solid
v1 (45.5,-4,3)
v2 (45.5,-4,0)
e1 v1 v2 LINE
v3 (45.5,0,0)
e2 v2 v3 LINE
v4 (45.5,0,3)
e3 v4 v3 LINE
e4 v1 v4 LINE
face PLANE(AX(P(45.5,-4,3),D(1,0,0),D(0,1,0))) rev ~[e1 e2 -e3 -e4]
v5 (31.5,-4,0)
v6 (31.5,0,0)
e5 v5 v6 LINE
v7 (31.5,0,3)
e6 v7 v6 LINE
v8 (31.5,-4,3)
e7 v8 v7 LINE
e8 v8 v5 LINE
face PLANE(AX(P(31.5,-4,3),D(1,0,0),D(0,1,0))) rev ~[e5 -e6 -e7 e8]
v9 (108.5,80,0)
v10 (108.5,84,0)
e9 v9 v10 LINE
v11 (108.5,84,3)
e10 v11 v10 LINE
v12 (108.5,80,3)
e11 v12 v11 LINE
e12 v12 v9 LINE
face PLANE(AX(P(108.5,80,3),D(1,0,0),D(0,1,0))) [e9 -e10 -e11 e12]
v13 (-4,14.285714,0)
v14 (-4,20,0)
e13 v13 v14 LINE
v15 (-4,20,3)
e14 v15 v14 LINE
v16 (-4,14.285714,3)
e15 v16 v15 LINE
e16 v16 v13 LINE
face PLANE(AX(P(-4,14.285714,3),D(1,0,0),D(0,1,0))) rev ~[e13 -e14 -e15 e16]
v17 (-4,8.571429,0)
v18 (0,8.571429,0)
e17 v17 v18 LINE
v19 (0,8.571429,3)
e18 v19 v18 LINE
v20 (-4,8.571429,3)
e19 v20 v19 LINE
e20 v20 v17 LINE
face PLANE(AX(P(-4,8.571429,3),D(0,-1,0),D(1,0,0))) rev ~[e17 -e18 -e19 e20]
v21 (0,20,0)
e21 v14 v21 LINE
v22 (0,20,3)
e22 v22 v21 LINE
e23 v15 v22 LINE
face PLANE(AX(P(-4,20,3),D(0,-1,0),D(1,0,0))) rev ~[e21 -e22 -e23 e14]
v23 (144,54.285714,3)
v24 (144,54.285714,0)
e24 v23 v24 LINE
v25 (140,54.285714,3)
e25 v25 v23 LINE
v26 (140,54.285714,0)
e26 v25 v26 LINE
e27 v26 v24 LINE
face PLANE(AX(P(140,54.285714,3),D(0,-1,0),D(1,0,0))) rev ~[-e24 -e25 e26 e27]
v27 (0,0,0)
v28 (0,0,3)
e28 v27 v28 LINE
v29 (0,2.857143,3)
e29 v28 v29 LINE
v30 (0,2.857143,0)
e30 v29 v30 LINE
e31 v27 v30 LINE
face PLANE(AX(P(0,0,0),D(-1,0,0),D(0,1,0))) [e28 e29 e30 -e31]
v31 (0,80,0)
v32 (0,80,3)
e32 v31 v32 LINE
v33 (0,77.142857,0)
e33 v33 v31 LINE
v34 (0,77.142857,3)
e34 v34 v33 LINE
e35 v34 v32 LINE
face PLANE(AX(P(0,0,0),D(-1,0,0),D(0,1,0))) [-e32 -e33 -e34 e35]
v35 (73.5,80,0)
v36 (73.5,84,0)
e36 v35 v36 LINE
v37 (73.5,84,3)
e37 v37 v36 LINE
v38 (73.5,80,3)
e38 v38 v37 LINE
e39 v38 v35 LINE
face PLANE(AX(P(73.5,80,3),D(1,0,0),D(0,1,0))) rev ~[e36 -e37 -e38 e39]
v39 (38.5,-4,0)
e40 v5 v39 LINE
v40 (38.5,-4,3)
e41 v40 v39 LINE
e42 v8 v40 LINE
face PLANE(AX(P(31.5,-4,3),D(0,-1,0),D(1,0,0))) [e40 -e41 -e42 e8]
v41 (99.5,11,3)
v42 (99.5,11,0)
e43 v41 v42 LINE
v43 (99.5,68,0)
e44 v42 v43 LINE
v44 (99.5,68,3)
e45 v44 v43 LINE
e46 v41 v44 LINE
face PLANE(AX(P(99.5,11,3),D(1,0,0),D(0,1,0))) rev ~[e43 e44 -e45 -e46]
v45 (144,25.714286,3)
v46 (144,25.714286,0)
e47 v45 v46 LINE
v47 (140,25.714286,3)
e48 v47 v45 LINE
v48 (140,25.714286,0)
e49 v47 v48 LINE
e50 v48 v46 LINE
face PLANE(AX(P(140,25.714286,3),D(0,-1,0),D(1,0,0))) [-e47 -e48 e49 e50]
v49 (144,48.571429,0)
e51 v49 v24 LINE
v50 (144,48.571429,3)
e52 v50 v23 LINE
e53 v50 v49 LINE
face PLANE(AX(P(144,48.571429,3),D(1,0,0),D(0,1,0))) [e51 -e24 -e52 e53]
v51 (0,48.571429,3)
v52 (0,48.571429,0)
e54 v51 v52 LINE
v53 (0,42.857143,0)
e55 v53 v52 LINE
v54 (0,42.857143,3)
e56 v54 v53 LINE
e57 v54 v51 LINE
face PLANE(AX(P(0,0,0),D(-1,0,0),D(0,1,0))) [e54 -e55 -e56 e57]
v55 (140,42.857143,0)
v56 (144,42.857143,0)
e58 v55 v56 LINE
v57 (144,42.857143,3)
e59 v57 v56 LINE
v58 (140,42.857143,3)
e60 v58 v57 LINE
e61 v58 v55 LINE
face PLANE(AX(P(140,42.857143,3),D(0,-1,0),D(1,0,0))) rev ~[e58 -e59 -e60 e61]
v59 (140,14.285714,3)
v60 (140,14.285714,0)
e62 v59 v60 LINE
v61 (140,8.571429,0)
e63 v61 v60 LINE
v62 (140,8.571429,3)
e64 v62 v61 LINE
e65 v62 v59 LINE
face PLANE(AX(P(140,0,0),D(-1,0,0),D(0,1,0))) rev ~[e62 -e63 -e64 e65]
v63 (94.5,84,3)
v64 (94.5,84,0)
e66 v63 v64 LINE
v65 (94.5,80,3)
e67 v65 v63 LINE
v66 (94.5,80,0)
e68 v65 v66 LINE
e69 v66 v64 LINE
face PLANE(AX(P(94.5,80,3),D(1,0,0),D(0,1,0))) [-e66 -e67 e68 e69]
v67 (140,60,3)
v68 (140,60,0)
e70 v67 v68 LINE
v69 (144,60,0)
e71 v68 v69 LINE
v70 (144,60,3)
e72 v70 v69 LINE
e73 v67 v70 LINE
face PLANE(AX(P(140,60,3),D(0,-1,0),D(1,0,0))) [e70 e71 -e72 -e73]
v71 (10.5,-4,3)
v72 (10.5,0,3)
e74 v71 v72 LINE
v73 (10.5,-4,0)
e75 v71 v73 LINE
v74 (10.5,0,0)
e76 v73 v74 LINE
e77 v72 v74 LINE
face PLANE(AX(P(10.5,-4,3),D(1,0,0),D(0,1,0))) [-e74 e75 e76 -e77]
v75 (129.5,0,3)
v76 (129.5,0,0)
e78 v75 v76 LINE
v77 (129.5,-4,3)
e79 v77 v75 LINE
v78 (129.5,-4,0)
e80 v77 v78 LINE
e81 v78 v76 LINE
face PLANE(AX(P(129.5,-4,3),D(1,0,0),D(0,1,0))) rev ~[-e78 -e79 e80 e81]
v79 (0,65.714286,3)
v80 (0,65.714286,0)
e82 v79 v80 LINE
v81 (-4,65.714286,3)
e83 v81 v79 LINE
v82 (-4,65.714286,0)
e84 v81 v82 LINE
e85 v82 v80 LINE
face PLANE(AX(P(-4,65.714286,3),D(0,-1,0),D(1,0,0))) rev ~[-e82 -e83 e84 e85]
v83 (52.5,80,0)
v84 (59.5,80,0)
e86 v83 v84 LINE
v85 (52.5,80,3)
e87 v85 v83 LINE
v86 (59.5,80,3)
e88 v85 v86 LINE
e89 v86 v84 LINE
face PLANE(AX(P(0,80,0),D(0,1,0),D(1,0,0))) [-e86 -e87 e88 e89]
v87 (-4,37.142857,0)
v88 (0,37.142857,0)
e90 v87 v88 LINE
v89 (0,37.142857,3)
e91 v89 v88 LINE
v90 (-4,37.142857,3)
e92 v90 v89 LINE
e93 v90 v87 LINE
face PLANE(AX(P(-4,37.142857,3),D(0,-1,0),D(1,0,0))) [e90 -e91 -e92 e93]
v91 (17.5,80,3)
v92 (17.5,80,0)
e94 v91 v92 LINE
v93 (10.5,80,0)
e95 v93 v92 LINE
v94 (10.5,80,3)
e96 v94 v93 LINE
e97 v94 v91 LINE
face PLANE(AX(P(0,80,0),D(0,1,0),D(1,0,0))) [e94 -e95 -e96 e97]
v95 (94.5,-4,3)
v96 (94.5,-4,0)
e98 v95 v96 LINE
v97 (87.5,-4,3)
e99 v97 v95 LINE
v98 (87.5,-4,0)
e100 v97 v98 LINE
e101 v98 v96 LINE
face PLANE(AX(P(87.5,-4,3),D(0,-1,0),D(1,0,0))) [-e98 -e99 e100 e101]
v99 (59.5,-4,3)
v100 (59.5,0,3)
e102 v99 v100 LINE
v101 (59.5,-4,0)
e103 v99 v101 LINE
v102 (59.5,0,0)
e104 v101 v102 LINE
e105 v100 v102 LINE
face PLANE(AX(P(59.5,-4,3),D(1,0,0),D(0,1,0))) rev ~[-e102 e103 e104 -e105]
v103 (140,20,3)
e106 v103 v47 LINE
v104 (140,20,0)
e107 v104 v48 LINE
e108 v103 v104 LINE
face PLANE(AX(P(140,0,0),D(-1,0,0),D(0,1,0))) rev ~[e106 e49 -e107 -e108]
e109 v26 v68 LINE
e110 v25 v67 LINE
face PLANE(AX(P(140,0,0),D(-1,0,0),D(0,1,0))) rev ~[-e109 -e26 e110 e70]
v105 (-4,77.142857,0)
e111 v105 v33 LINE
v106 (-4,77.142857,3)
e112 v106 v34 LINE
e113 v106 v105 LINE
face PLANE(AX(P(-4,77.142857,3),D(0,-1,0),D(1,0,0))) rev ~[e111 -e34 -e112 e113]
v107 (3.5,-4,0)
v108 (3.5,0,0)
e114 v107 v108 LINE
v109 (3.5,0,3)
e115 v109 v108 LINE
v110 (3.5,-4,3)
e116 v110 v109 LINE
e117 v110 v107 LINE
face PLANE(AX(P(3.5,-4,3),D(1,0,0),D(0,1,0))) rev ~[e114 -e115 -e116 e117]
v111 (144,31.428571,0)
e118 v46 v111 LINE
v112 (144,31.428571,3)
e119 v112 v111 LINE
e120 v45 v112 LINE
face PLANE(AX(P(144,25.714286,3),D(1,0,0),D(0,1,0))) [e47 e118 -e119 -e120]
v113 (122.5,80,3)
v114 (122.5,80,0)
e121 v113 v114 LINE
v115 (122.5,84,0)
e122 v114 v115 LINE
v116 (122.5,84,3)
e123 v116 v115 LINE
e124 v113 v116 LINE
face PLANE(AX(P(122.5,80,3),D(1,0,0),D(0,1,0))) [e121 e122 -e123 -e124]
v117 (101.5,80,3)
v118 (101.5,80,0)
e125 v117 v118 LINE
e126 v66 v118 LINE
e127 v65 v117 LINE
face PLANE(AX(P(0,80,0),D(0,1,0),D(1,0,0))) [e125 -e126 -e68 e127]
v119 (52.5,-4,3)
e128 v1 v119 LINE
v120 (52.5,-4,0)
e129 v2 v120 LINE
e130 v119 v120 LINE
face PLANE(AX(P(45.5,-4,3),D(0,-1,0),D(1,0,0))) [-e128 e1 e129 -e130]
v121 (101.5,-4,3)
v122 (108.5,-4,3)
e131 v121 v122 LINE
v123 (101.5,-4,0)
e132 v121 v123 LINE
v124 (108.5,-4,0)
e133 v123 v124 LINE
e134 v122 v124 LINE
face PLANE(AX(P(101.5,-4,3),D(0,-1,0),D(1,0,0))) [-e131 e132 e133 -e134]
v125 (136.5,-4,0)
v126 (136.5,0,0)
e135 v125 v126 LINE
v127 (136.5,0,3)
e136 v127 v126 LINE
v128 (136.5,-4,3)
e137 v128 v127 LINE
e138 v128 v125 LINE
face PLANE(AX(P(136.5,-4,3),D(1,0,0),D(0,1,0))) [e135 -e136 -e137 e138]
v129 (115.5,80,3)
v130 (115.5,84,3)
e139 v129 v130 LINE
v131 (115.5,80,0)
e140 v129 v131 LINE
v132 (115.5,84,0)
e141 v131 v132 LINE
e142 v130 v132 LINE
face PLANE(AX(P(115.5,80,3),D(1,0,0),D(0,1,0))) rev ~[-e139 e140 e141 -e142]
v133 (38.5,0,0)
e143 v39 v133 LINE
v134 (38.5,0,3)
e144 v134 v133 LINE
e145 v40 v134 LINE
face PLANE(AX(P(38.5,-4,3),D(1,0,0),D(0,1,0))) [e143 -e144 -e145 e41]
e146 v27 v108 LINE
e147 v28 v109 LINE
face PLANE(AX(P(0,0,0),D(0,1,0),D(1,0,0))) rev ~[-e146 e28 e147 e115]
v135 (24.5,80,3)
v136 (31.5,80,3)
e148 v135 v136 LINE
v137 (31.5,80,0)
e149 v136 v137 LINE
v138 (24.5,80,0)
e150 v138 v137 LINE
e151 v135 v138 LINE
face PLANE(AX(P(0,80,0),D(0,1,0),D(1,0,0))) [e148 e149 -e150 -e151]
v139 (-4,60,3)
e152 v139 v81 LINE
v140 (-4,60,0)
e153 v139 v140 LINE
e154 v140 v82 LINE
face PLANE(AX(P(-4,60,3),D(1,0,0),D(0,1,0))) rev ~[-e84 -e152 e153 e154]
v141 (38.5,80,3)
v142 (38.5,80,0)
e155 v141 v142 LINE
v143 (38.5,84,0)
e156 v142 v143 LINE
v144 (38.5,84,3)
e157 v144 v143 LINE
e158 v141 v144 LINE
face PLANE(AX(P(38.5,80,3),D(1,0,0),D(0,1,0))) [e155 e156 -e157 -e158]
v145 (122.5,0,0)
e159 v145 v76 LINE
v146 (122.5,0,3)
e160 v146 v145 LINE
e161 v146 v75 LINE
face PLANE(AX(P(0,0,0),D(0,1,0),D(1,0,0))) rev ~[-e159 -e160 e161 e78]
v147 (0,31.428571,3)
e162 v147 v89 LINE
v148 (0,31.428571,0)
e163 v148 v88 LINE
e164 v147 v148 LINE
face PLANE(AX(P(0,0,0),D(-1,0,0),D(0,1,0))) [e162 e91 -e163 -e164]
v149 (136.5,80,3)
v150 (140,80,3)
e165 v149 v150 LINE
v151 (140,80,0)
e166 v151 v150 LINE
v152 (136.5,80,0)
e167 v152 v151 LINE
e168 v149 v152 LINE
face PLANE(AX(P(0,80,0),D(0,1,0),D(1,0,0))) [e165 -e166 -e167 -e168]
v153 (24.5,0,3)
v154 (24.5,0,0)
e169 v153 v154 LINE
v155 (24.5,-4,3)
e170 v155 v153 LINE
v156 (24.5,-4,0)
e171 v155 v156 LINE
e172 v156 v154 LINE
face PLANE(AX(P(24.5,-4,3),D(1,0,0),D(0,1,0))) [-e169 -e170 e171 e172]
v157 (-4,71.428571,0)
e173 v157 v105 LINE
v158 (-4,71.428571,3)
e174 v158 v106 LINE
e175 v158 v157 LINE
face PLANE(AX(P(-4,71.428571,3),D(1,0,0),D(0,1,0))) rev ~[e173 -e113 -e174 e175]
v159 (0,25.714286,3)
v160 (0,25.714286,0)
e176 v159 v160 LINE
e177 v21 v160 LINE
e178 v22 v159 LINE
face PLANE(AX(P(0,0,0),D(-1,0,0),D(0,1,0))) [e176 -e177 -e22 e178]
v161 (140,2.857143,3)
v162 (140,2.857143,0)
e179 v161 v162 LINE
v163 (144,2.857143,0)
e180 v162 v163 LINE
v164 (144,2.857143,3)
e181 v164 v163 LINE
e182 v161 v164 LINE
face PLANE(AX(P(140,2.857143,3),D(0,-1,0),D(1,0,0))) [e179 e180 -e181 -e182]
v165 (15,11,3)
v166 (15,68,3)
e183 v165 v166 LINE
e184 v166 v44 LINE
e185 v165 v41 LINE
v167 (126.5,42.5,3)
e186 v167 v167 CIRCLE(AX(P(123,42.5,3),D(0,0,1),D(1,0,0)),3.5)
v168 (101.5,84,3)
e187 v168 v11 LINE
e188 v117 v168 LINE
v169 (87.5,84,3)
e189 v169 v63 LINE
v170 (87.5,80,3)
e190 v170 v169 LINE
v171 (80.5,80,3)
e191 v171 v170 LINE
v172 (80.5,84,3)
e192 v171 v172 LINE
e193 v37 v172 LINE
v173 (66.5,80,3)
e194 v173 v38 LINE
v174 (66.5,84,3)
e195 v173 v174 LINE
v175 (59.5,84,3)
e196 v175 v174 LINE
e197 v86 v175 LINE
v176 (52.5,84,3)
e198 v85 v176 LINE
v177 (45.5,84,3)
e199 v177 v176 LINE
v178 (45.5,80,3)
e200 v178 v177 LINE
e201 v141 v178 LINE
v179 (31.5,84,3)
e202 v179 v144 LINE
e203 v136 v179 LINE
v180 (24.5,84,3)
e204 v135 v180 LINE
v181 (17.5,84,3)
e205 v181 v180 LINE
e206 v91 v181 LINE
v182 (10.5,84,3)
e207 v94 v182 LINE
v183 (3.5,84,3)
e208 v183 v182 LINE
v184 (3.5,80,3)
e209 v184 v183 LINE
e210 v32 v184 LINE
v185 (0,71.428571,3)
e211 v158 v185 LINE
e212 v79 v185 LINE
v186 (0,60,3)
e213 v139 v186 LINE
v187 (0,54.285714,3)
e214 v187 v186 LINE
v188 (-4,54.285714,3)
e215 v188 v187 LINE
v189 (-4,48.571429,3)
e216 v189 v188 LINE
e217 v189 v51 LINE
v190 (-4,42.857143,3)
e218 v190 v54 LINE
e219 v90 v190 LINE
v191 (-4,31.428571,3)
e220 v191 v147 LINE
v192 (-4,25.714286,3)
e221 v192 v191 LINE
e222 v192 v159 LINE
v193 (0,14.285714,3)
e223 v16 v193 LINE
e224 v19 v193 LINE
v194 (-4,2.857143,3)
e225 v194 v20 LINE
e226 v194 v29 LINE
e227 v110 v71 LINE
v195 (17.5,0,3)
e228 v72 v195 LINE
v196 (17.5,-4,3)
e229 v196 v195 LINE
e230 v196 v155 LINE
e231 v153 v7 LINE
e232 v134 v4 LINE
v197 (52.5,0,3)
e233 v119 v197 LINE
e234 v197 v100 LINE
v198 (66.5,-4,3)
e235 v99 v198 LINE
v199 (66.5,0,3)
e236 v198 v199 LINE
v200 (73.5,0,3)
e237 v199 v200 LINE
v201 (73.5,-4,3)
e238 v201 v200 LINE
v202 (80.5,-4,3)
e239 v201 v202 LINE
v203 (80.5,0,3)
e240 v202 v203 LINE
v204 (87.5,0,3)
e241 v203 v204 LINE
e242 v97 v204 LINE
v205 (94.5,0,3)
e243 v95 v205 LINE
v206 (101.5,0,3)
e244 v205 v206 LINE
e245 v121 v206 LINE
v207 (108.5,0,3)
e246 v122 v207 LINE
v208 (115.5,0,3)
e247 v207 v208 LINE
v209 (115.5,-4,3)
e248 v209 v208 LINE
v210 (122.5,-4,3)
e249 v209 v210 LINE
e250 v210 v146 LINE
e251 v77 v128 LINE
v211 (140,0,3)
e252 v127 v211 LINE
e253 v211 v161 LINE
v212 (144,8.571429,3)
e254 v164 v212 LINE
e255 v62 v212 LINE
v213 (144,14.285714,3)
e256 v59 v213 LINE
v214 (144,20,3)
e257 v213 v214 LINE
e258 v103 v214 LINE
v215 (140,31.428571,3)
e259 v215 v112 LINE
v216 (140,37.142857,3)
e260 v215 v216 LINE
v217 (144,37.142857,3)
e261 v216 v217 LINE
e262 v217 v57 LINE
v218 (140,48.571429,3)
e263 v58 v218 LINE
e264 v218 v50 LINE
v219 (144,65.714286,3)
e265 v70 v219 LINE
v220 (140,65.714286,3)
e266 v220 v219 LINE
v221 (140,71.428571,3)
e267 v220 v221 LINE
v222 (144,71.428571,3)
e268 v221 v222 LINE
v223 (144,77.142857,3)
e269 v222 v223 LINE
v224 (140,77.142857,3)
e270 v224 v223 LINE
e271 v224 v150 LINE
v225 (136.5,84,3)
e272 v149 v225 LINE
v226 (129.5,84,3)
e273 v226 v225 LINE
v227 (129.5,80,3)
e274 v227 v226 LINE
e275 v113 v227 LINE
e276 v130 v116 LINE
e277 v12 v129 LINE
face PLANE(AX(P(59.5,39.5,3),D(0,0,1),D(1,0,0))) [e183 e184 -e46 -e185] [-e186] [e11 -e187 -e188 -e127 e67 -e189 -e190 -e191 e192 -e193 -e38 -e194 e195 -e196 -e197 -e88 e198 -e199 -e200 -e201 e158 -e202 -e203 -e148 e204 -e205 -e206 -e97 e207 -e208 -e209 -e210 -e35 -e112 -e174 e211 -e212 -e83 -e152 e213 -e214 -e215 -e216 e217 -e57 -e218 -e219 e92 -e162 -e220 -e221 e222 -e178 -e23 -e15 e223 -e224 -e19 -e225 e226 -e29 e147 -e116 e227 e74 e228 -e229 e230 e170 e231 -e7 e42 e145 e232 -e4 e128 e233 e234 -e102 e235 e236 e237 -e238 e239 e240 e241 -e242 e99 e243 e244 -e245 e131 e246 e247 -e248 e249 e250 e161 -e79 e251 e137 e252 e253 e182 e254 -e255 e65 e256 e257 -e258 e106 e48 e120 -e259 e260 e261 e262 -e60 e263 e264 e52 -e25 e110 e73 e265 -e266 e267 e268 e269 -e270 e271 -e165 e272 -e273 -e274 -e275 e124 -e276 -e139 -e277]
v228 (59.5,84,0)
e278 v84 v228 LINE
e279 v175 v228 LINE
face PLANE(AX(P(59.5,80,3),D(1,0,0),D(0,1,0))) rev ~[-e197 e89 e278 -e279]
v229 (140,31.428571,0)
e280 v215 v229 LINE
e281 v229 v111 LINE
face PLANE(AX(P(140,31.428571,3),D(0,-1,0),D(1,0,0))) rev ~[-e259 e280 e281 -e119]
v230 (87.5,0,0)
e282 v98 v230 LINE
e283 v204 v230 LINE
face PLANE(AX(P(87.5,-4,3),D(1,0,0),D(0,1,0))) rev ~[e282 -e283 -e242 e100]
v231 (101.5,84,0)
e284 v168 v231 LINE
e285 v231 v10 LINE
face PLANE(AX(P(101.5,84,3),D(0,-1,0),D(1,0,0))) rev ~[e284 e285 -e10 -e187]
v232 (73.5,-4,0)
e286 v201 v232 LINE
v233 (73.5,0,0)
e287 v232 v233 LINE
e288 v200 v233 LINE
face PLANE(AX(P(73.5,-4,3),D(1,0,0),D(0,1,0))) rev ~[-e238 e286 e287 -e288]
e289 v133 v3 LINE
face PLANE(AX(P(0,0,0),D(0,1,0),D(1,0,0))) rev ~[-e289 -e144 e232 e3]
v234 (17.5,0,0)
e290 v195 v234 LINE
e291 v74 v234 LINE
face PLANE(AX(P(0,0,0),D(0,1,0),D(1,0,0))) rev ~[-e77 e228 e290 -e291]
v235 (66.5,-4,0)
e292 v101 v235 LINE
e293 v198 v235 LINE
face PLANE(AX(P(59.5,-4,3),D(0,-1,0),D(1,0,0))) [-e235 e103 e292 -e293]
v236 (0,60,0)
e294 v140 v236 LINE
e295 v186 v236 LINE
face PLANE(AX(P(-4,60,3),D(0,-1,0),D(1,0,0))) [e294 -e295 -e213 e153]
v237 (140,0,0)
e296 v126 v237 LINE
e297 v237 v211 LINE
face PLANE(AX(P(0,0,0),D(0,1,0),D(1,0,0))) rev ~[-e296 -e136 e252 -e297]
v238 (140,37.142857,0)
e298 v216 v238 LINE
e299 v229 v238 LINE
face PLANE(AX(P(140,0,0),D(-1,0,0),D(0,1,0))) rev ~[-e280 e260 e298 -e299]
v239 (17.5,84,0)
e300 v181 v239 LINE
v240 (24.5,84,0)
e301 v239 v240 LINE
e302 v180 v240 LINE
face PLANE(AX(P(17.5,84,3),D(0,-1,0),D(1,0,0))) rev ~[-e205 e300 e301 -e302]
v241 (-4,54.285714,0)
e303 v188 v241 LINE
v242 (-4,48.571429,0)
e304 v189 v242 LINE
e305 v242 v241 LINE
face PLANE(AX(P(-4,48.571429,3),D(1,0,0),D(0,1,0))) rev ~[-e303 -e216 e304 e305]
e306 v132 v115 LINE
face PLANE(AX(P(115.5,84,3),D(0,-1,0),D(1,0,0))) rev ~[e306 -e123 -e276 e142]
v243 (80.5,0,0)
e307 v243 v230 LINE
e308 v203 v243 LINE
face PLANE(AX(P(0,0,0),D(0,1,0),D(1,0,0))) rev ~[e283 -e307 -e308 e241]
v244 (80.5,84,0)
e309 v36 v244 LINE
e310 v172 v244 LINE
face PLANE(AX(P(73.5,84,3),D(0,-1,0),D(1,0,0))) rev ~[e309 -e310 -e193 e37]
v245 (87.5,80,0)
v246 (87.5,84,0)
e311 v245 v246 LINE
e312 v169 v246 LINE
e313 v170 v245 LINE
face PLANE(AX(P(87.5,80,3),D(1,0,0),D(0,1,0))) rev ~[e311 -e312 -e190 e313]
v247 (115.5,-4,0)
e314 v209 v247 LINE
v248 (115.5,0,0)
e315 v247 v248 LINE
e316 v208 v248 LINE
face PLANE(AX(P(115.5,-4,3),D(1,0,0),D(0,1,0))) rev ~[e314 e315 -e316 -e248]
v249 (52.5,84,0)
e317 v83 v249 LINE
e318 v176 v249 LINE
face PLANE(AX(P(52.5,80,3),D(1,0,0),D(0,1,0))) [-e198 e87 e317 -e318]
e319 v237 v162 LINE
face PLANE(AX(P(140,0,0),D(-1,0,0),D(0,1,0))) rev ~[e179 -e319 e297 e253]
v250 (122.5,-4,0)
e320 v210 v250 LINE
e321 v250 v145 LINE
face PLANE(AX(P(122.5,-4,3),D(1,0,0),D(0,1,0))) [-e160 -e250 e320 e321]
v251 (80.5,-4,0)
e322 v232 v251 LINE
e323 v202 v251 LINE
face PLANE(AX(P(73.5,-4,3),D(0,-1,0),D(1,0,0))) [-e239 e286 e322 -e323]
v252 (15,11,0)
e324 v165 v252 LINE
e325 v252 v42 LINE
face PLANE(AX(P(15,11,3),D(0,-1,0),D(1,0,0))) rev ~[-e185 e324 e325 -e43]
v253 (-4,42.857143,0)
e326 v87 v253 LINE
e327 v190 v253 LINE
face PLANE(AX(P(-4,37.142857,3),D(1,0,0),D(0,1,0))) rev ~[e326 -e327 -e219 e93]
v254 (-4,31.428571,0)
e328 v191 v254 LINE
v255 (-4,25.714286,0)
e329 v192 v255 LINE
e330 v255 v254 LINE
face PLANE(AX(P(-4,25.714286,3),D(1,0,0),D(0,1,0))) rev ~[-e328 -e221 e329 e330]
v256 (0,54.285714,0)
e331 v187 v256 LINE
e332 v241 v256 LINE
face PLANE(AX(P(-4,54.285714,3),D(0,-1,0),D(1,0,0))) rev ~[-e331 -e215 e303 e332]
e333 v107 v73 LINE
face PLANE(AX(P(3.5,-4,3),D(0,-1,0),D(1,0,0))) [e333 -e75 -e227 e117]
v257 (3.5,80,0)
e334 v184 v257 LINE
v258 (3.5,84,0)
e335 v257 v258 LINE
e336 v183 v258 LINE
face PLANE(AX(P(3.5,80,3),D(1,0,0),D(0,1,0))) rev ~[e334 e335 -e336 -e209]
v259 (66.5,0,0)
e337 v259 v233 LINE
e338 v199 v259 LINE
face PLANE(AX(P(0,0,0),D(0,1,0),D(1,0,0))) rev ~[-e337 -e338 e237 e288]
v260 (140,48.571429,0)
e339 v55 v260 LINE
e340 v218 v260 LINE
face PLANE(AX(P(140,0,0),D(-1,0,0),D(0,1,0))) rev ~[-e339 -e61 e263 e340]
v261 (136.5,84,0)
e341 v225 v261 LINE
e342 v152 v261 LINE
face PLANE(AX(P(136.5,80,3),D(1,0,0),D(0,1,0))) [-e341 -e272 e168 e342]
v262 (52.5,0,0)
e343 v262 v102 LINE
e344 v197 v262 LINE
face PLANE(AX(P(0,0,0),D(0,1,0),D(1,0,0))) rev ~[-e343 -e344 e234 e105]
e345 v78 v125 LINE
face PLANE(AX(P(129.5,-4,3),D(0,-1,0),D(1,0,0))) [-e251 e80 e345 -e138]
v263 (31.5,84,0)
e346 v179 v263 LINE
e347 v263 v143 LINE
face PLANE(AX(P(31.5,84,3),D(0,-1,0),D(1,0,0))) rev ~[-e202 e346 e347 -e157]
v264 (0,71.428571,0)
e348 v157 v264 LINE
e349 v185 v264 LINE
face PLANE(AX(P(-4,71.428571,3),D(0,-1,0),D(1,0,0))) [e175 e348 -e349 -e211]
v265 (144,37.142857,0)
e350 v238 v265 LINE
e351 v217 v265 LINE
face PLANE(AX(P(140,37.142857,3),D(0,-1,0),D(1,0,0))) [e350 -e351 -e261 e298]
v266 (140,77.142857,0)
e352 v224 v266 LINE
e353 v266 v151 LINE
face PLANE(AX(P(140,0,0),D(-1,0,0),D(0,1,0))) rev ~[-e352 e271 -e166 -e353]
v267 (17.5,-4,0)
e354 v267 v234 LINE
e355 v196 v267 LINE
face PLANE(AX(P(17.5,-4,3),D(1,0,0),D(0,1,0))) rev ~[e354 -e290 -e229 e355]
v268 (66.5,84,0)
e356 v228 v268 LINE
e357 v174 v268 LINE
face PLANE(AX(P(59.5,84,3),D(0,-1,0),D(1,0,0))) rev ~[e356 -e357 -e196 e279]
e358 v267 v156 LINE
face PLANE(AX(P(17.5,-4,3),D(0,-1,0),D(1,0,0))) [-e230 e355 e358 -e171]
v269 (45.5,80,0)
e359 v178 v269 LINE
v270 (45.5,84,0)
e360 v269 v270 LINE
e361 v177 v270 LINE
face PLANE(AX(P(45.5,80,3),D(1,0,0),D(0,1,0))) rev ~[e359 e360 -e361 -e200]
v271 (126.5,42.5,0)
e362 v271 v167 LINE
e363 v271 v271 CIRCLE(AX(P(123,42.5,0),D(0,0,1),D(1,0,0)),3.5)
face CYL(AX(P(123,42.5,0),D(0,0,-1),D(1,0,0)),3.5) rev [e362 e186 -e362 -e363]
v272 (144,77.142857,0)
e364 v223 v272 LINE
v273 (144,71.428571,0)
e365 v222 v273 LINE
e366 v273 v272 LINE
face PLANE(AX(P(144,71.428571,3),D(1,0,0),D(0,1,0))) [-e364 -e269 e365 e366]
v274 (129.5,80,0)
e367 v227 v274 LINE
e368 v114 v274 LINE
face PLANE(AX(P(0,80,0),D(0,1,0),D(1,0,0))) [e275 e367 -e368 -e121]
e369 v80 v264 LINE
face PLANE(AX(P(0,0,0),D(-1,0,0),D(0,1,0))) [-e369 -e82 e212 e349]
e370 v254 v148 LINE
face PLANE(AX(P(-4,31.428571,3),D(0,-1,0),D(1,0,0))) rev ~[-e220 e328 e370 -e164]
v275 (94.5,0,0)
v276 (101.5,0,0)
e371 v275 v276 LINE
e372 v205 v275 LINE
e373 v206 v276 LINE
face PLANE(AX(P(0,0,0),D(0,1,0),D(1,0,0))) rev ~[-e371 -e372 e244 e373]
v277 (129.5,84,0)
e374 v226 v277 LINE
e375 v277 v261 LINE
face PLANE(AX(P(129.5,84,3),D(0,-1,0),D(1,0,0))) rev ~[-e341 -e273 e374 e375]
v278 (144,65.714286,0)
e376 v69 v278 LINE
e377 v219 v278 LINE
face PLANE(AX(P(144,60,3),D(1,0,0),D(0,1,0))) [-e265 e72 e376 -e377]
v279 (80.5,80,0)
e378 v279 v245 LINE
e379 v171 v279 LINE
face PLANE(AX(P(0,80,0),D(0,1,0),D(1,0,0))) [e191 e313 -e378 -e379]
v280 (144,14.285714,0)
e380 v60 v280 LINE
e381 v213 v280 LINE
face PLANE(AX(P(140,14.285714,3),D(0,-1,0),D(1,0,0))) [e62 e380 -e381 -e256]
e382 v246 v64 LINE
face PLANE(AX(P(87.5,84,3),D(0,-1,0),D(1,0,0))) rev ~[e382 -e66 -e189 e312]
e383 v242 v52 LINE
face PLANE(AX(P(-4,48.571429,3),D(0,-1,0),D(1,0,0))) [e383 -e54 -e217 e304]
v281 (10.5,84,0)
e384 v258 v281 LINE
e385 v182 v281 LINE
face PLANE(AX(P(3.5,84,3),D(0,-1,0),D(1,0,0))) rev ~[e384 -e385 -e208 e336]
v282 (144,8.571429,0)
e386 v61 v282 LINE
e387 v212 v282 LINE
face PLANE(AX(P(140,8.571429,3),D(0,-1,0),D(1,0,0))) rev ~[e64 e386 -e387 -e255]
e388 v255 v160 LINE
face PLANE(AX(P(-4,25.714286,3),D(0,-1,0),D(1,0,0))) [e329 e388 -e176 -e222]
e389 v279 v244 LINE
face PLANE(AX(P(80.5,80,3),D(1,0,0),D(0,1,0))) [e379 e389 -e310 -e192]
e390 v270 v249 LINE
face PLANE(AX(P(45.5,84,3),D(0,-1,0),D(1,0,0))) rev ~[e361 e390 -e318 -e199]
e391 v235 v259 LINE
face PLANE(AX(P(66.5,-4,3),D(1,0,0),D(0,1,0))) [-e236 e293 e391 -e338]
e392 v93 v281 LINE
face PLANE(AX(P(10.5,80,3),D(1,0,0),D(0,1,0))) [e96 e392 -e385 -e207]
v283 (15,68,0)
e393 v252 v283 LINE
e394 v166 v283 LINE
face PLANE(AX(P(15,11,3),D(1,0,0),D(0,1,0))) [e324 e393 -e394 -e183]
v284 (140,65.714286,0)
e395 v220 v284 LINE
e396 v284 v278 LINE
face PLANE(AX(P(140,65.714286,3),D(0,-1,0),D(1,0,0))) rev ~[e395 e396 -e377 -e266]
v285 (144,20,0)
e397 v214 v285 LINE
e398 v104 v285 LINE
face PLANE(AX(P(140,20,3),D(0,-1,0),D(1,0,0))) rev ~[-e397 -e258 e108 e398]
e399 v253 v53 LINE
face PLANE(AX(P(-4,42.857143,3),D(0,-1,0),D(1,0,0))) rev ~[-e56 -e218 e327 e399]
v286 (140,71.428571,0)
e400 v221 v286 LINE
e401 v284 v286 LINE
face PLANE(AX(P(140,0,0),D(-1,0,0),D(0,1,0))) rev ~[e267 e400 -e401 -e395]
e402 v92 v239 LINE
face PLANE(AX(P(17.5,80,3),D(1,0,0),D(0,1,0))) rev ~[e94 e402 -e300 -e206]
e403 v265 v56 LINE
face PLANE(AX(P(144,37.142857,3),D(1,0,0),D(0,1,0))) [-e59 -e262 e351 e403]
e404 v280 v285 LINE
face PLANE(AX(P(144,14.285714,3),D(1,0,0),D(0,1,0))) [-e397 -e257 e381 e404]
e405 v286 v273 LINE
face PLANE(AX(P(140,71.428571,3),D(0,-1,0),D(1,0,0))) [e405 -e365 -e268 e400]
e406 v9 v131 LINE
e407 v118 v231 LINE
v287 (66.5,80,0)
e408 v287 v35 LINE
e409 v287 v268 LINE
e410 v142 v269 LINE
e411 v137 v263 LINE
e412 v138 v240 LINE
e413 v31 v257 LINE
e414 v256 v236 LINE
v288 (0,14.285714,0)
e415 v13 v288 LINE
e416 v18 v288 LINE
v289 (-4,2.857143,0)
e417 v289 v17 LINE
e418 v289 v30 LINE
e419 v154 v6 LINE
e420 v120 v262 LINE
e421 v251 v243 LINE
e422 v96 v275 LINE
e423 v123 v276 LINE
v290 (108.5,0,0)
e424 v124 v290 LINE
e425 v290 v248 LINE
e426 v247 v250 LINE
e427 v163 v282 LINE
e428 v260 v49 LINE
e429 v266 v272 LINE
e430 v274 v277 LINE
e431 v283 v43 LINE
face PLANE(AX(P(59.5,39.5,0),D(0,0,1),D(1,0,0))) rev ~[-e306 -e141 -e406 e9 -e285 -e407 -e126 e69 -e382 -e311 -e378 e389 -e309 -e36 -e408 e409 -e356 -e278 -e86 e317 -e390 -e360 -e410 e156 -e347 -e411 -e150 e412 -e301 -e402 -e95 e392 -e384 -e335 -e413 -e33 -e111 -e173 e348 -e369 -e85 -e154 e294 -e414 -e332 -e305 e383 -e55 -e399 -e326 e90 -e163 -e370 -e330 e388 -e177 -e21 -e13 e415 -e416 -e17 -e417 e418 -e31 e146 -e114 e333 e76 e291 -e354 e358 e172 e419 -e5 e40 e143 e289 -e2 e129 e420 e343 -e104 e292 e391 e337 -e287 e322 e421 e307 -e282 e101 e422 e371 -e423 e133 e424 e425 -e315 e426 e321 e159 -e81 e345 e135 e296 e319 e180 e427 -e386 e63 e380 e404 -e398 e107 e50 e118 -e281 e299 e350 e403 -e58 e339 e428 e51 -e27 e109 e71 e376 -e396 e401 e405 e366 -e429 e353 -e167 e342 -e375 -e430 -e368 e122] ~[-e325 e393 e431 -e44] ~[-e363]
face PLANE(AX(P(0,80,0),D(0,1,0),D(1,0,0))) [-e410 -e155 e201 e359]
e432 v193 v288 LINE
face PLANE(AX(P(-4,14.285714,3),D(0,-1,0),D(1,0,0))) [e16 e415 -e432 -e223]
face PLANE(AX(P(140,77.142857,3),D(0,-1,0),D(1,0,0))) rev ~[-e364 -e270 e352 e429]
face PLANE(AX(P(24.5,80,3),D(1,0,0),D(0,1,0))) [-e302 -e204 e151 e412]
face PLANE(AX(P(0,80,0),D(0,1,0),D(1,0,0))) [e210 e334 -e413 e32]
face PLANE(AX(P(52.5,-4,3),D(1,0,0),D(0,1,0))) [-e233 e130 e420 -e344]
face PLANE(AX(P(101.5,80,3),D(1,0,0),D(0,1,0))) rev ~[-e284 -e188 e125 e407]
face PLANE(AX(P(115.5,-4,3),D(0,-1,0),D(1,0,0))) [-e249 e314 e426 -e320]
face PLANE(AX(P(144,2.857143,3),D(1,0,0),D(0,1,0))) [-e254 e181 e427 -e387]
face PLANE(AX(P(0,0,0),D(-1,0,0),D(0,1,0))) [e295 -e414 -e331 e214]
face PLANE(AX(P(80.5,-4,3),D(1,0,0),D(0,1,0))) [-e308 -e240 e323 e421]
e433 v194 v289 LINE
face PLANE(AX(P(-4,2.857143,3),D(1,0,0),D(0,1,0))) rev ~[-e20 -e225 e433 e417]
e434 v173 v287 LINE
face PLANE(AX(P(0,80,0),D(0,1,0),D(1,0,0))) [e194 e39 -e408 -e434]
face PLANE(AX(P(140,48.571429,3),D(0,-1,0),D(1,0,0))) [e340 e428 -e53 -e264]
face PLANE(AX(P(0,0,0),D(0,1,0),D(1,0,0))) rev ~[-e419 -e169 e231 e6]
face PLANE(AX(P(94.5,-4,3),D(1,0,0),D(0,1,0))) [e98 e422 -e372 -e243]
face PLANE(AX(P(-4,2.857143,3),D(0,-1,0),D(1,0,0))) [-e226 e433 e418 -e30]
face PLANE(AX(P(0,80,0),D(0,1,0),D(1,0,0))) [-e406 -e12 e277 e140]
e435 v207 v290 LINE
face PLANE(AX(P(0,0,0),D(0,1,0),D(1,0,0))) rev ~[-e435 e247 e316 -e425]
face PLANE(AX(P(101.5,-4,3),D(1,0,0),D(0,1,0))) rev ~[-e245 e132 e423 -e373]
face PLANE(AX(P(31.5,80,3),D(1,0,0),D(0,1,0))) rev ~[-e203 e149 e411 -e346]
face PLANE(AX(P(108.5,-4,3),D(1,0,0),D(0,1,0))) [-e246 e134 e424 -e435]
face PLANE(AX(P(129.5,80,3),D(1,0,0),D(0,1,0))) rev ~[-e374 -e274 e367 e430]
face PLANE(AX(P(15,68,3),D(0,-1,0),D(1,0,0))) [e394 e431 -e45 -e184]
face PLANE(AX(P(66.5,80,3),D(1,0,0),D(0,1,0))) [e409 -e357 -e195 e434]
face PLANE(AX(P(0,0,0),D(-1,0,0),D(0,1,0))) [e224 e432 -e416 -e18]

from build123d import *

# Parameters (mm, degrees)
SCHIZZO1_W                   = 140
SCHIZZO1_H                   = 80
SCHIZZO1_R                   = 3.5
SCHIZZO1_W_2                 = 95
SCHIZZO1_H_2                 = 61
ESTRUSIONE_ESTRUSIONE1_DEPTH = 3
SCHIZZO2_W                   = 7
SCHIZZO2_H                   = 4
ESTRUSIONE_ESTRUSIONE2_DEPTH = 3
RIPETIZIONE_A_L1_COUNT       = 10
RIPETIZIONE_A_L1_PITCH       = 14
SCHIZZO3_W                   = 4
SCHIZZO3_H                   = 5.714285714
ESTRUSIONE_ESTRUSIONE3_DEPTH = 3
RIPETIZIONE_A_L2_COUNT       = 7
RIPETIZIONE_A_L2_PITCH       = 11.428571429
SCHIZZO4_W                   = 95
SCHIZZO4_H                   = 61
SCHIZZO4_W_2                 = 84.5
SCHIZZO4_H_2                 = 57
ESTRUSIONE_ESTRUSIONE4_DEPTH = 3


with BuildPart() as part:
    # Schizzo1 → Estrusione-Estrusione1 (new body)
    with BuildSketch(Plane.XY):
        with Locations((70, 40)):
            Rectangle(SCHIZZO1_W, SCHIZZO1_H)
        with Locations((123, 42.5)):
            Circle(SCHIZZO1_R, mode=Mode.SUBTRACT)
        with Locations((59.5, 39.5)):
            Rectangle(SCHIZZO1_W_2, SCHIZZO1_H_2, mode=Mode.SUBTRACT)
    extrude(amount=ESTRUSIONE_ESTRUSIONE1_DEPTH)

    # Schizzo2 → Estrusione-Estrusione2 (add)
    with BuildSketch(Plane.XY.offset(3)):
        with Locations((7, 82)):
            Rectangle(SCHIZZO2_W, SCHIZZO2_H)
        with Locations((7, -2)):
            Rectangle(SCHIZZO2_W, SCHIZZO2_H)
    estrusione_estrusione2 = extrude(amount=-ESTRUSIONE_ESTRUSIONE2_DEPTH)

    # Ripetizione a L1: Estrusione-Estrusione2 ×10
    with Locations(*[(i * RIPETIZIONE_A_L1_PITCH, 0, 0) for i in range(1, RIPETIZIONE_A_L1_COUNT)]):
        add(estrusione_estrusione2)

    # Schizzo3 → Estrusione-Estrusione3 (add)
    with BuildSketch(Plane.XY.offset(3)):
        with Locations((-2, 74.285714286)):
            Rectangle(SCHIZZO3_W, SCHIZZO3_H)
        with Locations((142, 74.285714286)):
            Rectangle(SCHIZZO3_W, SCHIZZO3_H)
    estrusione_estrusione3 = extrude(amount=-ESTRUSIONE_ESTRUSIONE3_DEPTH)

    # Ripetizione a L2: Estrusione-Estrusione3 ×7
    with Locations(*[(0, -i * RIPETIZIONE_A_L2_PITCH, 0) for i in range(1, RIPETIZIONE_A_L2_COUNT)]):
        add(estrusione_estrusione3)

    # Schizzo4 → Estrusione-Estrusione4 (add)
    with BuildSketch(Plane.XY.offset(3)):
        with Locations((59.5, 39.5)):
            Rectangle(SCHIZZO4_W, SCHIZZO4_H)
        with Locations((57.25, 39.5)):
            Rectangle(SCHIZZO4_W_2, SCHIZZO4_H_2, mode=Mode.SUBTRACT)
    extrude(amount=-ESTRUSIONE_ESTRUSIONE4_DEPTH)


solid = part.part
